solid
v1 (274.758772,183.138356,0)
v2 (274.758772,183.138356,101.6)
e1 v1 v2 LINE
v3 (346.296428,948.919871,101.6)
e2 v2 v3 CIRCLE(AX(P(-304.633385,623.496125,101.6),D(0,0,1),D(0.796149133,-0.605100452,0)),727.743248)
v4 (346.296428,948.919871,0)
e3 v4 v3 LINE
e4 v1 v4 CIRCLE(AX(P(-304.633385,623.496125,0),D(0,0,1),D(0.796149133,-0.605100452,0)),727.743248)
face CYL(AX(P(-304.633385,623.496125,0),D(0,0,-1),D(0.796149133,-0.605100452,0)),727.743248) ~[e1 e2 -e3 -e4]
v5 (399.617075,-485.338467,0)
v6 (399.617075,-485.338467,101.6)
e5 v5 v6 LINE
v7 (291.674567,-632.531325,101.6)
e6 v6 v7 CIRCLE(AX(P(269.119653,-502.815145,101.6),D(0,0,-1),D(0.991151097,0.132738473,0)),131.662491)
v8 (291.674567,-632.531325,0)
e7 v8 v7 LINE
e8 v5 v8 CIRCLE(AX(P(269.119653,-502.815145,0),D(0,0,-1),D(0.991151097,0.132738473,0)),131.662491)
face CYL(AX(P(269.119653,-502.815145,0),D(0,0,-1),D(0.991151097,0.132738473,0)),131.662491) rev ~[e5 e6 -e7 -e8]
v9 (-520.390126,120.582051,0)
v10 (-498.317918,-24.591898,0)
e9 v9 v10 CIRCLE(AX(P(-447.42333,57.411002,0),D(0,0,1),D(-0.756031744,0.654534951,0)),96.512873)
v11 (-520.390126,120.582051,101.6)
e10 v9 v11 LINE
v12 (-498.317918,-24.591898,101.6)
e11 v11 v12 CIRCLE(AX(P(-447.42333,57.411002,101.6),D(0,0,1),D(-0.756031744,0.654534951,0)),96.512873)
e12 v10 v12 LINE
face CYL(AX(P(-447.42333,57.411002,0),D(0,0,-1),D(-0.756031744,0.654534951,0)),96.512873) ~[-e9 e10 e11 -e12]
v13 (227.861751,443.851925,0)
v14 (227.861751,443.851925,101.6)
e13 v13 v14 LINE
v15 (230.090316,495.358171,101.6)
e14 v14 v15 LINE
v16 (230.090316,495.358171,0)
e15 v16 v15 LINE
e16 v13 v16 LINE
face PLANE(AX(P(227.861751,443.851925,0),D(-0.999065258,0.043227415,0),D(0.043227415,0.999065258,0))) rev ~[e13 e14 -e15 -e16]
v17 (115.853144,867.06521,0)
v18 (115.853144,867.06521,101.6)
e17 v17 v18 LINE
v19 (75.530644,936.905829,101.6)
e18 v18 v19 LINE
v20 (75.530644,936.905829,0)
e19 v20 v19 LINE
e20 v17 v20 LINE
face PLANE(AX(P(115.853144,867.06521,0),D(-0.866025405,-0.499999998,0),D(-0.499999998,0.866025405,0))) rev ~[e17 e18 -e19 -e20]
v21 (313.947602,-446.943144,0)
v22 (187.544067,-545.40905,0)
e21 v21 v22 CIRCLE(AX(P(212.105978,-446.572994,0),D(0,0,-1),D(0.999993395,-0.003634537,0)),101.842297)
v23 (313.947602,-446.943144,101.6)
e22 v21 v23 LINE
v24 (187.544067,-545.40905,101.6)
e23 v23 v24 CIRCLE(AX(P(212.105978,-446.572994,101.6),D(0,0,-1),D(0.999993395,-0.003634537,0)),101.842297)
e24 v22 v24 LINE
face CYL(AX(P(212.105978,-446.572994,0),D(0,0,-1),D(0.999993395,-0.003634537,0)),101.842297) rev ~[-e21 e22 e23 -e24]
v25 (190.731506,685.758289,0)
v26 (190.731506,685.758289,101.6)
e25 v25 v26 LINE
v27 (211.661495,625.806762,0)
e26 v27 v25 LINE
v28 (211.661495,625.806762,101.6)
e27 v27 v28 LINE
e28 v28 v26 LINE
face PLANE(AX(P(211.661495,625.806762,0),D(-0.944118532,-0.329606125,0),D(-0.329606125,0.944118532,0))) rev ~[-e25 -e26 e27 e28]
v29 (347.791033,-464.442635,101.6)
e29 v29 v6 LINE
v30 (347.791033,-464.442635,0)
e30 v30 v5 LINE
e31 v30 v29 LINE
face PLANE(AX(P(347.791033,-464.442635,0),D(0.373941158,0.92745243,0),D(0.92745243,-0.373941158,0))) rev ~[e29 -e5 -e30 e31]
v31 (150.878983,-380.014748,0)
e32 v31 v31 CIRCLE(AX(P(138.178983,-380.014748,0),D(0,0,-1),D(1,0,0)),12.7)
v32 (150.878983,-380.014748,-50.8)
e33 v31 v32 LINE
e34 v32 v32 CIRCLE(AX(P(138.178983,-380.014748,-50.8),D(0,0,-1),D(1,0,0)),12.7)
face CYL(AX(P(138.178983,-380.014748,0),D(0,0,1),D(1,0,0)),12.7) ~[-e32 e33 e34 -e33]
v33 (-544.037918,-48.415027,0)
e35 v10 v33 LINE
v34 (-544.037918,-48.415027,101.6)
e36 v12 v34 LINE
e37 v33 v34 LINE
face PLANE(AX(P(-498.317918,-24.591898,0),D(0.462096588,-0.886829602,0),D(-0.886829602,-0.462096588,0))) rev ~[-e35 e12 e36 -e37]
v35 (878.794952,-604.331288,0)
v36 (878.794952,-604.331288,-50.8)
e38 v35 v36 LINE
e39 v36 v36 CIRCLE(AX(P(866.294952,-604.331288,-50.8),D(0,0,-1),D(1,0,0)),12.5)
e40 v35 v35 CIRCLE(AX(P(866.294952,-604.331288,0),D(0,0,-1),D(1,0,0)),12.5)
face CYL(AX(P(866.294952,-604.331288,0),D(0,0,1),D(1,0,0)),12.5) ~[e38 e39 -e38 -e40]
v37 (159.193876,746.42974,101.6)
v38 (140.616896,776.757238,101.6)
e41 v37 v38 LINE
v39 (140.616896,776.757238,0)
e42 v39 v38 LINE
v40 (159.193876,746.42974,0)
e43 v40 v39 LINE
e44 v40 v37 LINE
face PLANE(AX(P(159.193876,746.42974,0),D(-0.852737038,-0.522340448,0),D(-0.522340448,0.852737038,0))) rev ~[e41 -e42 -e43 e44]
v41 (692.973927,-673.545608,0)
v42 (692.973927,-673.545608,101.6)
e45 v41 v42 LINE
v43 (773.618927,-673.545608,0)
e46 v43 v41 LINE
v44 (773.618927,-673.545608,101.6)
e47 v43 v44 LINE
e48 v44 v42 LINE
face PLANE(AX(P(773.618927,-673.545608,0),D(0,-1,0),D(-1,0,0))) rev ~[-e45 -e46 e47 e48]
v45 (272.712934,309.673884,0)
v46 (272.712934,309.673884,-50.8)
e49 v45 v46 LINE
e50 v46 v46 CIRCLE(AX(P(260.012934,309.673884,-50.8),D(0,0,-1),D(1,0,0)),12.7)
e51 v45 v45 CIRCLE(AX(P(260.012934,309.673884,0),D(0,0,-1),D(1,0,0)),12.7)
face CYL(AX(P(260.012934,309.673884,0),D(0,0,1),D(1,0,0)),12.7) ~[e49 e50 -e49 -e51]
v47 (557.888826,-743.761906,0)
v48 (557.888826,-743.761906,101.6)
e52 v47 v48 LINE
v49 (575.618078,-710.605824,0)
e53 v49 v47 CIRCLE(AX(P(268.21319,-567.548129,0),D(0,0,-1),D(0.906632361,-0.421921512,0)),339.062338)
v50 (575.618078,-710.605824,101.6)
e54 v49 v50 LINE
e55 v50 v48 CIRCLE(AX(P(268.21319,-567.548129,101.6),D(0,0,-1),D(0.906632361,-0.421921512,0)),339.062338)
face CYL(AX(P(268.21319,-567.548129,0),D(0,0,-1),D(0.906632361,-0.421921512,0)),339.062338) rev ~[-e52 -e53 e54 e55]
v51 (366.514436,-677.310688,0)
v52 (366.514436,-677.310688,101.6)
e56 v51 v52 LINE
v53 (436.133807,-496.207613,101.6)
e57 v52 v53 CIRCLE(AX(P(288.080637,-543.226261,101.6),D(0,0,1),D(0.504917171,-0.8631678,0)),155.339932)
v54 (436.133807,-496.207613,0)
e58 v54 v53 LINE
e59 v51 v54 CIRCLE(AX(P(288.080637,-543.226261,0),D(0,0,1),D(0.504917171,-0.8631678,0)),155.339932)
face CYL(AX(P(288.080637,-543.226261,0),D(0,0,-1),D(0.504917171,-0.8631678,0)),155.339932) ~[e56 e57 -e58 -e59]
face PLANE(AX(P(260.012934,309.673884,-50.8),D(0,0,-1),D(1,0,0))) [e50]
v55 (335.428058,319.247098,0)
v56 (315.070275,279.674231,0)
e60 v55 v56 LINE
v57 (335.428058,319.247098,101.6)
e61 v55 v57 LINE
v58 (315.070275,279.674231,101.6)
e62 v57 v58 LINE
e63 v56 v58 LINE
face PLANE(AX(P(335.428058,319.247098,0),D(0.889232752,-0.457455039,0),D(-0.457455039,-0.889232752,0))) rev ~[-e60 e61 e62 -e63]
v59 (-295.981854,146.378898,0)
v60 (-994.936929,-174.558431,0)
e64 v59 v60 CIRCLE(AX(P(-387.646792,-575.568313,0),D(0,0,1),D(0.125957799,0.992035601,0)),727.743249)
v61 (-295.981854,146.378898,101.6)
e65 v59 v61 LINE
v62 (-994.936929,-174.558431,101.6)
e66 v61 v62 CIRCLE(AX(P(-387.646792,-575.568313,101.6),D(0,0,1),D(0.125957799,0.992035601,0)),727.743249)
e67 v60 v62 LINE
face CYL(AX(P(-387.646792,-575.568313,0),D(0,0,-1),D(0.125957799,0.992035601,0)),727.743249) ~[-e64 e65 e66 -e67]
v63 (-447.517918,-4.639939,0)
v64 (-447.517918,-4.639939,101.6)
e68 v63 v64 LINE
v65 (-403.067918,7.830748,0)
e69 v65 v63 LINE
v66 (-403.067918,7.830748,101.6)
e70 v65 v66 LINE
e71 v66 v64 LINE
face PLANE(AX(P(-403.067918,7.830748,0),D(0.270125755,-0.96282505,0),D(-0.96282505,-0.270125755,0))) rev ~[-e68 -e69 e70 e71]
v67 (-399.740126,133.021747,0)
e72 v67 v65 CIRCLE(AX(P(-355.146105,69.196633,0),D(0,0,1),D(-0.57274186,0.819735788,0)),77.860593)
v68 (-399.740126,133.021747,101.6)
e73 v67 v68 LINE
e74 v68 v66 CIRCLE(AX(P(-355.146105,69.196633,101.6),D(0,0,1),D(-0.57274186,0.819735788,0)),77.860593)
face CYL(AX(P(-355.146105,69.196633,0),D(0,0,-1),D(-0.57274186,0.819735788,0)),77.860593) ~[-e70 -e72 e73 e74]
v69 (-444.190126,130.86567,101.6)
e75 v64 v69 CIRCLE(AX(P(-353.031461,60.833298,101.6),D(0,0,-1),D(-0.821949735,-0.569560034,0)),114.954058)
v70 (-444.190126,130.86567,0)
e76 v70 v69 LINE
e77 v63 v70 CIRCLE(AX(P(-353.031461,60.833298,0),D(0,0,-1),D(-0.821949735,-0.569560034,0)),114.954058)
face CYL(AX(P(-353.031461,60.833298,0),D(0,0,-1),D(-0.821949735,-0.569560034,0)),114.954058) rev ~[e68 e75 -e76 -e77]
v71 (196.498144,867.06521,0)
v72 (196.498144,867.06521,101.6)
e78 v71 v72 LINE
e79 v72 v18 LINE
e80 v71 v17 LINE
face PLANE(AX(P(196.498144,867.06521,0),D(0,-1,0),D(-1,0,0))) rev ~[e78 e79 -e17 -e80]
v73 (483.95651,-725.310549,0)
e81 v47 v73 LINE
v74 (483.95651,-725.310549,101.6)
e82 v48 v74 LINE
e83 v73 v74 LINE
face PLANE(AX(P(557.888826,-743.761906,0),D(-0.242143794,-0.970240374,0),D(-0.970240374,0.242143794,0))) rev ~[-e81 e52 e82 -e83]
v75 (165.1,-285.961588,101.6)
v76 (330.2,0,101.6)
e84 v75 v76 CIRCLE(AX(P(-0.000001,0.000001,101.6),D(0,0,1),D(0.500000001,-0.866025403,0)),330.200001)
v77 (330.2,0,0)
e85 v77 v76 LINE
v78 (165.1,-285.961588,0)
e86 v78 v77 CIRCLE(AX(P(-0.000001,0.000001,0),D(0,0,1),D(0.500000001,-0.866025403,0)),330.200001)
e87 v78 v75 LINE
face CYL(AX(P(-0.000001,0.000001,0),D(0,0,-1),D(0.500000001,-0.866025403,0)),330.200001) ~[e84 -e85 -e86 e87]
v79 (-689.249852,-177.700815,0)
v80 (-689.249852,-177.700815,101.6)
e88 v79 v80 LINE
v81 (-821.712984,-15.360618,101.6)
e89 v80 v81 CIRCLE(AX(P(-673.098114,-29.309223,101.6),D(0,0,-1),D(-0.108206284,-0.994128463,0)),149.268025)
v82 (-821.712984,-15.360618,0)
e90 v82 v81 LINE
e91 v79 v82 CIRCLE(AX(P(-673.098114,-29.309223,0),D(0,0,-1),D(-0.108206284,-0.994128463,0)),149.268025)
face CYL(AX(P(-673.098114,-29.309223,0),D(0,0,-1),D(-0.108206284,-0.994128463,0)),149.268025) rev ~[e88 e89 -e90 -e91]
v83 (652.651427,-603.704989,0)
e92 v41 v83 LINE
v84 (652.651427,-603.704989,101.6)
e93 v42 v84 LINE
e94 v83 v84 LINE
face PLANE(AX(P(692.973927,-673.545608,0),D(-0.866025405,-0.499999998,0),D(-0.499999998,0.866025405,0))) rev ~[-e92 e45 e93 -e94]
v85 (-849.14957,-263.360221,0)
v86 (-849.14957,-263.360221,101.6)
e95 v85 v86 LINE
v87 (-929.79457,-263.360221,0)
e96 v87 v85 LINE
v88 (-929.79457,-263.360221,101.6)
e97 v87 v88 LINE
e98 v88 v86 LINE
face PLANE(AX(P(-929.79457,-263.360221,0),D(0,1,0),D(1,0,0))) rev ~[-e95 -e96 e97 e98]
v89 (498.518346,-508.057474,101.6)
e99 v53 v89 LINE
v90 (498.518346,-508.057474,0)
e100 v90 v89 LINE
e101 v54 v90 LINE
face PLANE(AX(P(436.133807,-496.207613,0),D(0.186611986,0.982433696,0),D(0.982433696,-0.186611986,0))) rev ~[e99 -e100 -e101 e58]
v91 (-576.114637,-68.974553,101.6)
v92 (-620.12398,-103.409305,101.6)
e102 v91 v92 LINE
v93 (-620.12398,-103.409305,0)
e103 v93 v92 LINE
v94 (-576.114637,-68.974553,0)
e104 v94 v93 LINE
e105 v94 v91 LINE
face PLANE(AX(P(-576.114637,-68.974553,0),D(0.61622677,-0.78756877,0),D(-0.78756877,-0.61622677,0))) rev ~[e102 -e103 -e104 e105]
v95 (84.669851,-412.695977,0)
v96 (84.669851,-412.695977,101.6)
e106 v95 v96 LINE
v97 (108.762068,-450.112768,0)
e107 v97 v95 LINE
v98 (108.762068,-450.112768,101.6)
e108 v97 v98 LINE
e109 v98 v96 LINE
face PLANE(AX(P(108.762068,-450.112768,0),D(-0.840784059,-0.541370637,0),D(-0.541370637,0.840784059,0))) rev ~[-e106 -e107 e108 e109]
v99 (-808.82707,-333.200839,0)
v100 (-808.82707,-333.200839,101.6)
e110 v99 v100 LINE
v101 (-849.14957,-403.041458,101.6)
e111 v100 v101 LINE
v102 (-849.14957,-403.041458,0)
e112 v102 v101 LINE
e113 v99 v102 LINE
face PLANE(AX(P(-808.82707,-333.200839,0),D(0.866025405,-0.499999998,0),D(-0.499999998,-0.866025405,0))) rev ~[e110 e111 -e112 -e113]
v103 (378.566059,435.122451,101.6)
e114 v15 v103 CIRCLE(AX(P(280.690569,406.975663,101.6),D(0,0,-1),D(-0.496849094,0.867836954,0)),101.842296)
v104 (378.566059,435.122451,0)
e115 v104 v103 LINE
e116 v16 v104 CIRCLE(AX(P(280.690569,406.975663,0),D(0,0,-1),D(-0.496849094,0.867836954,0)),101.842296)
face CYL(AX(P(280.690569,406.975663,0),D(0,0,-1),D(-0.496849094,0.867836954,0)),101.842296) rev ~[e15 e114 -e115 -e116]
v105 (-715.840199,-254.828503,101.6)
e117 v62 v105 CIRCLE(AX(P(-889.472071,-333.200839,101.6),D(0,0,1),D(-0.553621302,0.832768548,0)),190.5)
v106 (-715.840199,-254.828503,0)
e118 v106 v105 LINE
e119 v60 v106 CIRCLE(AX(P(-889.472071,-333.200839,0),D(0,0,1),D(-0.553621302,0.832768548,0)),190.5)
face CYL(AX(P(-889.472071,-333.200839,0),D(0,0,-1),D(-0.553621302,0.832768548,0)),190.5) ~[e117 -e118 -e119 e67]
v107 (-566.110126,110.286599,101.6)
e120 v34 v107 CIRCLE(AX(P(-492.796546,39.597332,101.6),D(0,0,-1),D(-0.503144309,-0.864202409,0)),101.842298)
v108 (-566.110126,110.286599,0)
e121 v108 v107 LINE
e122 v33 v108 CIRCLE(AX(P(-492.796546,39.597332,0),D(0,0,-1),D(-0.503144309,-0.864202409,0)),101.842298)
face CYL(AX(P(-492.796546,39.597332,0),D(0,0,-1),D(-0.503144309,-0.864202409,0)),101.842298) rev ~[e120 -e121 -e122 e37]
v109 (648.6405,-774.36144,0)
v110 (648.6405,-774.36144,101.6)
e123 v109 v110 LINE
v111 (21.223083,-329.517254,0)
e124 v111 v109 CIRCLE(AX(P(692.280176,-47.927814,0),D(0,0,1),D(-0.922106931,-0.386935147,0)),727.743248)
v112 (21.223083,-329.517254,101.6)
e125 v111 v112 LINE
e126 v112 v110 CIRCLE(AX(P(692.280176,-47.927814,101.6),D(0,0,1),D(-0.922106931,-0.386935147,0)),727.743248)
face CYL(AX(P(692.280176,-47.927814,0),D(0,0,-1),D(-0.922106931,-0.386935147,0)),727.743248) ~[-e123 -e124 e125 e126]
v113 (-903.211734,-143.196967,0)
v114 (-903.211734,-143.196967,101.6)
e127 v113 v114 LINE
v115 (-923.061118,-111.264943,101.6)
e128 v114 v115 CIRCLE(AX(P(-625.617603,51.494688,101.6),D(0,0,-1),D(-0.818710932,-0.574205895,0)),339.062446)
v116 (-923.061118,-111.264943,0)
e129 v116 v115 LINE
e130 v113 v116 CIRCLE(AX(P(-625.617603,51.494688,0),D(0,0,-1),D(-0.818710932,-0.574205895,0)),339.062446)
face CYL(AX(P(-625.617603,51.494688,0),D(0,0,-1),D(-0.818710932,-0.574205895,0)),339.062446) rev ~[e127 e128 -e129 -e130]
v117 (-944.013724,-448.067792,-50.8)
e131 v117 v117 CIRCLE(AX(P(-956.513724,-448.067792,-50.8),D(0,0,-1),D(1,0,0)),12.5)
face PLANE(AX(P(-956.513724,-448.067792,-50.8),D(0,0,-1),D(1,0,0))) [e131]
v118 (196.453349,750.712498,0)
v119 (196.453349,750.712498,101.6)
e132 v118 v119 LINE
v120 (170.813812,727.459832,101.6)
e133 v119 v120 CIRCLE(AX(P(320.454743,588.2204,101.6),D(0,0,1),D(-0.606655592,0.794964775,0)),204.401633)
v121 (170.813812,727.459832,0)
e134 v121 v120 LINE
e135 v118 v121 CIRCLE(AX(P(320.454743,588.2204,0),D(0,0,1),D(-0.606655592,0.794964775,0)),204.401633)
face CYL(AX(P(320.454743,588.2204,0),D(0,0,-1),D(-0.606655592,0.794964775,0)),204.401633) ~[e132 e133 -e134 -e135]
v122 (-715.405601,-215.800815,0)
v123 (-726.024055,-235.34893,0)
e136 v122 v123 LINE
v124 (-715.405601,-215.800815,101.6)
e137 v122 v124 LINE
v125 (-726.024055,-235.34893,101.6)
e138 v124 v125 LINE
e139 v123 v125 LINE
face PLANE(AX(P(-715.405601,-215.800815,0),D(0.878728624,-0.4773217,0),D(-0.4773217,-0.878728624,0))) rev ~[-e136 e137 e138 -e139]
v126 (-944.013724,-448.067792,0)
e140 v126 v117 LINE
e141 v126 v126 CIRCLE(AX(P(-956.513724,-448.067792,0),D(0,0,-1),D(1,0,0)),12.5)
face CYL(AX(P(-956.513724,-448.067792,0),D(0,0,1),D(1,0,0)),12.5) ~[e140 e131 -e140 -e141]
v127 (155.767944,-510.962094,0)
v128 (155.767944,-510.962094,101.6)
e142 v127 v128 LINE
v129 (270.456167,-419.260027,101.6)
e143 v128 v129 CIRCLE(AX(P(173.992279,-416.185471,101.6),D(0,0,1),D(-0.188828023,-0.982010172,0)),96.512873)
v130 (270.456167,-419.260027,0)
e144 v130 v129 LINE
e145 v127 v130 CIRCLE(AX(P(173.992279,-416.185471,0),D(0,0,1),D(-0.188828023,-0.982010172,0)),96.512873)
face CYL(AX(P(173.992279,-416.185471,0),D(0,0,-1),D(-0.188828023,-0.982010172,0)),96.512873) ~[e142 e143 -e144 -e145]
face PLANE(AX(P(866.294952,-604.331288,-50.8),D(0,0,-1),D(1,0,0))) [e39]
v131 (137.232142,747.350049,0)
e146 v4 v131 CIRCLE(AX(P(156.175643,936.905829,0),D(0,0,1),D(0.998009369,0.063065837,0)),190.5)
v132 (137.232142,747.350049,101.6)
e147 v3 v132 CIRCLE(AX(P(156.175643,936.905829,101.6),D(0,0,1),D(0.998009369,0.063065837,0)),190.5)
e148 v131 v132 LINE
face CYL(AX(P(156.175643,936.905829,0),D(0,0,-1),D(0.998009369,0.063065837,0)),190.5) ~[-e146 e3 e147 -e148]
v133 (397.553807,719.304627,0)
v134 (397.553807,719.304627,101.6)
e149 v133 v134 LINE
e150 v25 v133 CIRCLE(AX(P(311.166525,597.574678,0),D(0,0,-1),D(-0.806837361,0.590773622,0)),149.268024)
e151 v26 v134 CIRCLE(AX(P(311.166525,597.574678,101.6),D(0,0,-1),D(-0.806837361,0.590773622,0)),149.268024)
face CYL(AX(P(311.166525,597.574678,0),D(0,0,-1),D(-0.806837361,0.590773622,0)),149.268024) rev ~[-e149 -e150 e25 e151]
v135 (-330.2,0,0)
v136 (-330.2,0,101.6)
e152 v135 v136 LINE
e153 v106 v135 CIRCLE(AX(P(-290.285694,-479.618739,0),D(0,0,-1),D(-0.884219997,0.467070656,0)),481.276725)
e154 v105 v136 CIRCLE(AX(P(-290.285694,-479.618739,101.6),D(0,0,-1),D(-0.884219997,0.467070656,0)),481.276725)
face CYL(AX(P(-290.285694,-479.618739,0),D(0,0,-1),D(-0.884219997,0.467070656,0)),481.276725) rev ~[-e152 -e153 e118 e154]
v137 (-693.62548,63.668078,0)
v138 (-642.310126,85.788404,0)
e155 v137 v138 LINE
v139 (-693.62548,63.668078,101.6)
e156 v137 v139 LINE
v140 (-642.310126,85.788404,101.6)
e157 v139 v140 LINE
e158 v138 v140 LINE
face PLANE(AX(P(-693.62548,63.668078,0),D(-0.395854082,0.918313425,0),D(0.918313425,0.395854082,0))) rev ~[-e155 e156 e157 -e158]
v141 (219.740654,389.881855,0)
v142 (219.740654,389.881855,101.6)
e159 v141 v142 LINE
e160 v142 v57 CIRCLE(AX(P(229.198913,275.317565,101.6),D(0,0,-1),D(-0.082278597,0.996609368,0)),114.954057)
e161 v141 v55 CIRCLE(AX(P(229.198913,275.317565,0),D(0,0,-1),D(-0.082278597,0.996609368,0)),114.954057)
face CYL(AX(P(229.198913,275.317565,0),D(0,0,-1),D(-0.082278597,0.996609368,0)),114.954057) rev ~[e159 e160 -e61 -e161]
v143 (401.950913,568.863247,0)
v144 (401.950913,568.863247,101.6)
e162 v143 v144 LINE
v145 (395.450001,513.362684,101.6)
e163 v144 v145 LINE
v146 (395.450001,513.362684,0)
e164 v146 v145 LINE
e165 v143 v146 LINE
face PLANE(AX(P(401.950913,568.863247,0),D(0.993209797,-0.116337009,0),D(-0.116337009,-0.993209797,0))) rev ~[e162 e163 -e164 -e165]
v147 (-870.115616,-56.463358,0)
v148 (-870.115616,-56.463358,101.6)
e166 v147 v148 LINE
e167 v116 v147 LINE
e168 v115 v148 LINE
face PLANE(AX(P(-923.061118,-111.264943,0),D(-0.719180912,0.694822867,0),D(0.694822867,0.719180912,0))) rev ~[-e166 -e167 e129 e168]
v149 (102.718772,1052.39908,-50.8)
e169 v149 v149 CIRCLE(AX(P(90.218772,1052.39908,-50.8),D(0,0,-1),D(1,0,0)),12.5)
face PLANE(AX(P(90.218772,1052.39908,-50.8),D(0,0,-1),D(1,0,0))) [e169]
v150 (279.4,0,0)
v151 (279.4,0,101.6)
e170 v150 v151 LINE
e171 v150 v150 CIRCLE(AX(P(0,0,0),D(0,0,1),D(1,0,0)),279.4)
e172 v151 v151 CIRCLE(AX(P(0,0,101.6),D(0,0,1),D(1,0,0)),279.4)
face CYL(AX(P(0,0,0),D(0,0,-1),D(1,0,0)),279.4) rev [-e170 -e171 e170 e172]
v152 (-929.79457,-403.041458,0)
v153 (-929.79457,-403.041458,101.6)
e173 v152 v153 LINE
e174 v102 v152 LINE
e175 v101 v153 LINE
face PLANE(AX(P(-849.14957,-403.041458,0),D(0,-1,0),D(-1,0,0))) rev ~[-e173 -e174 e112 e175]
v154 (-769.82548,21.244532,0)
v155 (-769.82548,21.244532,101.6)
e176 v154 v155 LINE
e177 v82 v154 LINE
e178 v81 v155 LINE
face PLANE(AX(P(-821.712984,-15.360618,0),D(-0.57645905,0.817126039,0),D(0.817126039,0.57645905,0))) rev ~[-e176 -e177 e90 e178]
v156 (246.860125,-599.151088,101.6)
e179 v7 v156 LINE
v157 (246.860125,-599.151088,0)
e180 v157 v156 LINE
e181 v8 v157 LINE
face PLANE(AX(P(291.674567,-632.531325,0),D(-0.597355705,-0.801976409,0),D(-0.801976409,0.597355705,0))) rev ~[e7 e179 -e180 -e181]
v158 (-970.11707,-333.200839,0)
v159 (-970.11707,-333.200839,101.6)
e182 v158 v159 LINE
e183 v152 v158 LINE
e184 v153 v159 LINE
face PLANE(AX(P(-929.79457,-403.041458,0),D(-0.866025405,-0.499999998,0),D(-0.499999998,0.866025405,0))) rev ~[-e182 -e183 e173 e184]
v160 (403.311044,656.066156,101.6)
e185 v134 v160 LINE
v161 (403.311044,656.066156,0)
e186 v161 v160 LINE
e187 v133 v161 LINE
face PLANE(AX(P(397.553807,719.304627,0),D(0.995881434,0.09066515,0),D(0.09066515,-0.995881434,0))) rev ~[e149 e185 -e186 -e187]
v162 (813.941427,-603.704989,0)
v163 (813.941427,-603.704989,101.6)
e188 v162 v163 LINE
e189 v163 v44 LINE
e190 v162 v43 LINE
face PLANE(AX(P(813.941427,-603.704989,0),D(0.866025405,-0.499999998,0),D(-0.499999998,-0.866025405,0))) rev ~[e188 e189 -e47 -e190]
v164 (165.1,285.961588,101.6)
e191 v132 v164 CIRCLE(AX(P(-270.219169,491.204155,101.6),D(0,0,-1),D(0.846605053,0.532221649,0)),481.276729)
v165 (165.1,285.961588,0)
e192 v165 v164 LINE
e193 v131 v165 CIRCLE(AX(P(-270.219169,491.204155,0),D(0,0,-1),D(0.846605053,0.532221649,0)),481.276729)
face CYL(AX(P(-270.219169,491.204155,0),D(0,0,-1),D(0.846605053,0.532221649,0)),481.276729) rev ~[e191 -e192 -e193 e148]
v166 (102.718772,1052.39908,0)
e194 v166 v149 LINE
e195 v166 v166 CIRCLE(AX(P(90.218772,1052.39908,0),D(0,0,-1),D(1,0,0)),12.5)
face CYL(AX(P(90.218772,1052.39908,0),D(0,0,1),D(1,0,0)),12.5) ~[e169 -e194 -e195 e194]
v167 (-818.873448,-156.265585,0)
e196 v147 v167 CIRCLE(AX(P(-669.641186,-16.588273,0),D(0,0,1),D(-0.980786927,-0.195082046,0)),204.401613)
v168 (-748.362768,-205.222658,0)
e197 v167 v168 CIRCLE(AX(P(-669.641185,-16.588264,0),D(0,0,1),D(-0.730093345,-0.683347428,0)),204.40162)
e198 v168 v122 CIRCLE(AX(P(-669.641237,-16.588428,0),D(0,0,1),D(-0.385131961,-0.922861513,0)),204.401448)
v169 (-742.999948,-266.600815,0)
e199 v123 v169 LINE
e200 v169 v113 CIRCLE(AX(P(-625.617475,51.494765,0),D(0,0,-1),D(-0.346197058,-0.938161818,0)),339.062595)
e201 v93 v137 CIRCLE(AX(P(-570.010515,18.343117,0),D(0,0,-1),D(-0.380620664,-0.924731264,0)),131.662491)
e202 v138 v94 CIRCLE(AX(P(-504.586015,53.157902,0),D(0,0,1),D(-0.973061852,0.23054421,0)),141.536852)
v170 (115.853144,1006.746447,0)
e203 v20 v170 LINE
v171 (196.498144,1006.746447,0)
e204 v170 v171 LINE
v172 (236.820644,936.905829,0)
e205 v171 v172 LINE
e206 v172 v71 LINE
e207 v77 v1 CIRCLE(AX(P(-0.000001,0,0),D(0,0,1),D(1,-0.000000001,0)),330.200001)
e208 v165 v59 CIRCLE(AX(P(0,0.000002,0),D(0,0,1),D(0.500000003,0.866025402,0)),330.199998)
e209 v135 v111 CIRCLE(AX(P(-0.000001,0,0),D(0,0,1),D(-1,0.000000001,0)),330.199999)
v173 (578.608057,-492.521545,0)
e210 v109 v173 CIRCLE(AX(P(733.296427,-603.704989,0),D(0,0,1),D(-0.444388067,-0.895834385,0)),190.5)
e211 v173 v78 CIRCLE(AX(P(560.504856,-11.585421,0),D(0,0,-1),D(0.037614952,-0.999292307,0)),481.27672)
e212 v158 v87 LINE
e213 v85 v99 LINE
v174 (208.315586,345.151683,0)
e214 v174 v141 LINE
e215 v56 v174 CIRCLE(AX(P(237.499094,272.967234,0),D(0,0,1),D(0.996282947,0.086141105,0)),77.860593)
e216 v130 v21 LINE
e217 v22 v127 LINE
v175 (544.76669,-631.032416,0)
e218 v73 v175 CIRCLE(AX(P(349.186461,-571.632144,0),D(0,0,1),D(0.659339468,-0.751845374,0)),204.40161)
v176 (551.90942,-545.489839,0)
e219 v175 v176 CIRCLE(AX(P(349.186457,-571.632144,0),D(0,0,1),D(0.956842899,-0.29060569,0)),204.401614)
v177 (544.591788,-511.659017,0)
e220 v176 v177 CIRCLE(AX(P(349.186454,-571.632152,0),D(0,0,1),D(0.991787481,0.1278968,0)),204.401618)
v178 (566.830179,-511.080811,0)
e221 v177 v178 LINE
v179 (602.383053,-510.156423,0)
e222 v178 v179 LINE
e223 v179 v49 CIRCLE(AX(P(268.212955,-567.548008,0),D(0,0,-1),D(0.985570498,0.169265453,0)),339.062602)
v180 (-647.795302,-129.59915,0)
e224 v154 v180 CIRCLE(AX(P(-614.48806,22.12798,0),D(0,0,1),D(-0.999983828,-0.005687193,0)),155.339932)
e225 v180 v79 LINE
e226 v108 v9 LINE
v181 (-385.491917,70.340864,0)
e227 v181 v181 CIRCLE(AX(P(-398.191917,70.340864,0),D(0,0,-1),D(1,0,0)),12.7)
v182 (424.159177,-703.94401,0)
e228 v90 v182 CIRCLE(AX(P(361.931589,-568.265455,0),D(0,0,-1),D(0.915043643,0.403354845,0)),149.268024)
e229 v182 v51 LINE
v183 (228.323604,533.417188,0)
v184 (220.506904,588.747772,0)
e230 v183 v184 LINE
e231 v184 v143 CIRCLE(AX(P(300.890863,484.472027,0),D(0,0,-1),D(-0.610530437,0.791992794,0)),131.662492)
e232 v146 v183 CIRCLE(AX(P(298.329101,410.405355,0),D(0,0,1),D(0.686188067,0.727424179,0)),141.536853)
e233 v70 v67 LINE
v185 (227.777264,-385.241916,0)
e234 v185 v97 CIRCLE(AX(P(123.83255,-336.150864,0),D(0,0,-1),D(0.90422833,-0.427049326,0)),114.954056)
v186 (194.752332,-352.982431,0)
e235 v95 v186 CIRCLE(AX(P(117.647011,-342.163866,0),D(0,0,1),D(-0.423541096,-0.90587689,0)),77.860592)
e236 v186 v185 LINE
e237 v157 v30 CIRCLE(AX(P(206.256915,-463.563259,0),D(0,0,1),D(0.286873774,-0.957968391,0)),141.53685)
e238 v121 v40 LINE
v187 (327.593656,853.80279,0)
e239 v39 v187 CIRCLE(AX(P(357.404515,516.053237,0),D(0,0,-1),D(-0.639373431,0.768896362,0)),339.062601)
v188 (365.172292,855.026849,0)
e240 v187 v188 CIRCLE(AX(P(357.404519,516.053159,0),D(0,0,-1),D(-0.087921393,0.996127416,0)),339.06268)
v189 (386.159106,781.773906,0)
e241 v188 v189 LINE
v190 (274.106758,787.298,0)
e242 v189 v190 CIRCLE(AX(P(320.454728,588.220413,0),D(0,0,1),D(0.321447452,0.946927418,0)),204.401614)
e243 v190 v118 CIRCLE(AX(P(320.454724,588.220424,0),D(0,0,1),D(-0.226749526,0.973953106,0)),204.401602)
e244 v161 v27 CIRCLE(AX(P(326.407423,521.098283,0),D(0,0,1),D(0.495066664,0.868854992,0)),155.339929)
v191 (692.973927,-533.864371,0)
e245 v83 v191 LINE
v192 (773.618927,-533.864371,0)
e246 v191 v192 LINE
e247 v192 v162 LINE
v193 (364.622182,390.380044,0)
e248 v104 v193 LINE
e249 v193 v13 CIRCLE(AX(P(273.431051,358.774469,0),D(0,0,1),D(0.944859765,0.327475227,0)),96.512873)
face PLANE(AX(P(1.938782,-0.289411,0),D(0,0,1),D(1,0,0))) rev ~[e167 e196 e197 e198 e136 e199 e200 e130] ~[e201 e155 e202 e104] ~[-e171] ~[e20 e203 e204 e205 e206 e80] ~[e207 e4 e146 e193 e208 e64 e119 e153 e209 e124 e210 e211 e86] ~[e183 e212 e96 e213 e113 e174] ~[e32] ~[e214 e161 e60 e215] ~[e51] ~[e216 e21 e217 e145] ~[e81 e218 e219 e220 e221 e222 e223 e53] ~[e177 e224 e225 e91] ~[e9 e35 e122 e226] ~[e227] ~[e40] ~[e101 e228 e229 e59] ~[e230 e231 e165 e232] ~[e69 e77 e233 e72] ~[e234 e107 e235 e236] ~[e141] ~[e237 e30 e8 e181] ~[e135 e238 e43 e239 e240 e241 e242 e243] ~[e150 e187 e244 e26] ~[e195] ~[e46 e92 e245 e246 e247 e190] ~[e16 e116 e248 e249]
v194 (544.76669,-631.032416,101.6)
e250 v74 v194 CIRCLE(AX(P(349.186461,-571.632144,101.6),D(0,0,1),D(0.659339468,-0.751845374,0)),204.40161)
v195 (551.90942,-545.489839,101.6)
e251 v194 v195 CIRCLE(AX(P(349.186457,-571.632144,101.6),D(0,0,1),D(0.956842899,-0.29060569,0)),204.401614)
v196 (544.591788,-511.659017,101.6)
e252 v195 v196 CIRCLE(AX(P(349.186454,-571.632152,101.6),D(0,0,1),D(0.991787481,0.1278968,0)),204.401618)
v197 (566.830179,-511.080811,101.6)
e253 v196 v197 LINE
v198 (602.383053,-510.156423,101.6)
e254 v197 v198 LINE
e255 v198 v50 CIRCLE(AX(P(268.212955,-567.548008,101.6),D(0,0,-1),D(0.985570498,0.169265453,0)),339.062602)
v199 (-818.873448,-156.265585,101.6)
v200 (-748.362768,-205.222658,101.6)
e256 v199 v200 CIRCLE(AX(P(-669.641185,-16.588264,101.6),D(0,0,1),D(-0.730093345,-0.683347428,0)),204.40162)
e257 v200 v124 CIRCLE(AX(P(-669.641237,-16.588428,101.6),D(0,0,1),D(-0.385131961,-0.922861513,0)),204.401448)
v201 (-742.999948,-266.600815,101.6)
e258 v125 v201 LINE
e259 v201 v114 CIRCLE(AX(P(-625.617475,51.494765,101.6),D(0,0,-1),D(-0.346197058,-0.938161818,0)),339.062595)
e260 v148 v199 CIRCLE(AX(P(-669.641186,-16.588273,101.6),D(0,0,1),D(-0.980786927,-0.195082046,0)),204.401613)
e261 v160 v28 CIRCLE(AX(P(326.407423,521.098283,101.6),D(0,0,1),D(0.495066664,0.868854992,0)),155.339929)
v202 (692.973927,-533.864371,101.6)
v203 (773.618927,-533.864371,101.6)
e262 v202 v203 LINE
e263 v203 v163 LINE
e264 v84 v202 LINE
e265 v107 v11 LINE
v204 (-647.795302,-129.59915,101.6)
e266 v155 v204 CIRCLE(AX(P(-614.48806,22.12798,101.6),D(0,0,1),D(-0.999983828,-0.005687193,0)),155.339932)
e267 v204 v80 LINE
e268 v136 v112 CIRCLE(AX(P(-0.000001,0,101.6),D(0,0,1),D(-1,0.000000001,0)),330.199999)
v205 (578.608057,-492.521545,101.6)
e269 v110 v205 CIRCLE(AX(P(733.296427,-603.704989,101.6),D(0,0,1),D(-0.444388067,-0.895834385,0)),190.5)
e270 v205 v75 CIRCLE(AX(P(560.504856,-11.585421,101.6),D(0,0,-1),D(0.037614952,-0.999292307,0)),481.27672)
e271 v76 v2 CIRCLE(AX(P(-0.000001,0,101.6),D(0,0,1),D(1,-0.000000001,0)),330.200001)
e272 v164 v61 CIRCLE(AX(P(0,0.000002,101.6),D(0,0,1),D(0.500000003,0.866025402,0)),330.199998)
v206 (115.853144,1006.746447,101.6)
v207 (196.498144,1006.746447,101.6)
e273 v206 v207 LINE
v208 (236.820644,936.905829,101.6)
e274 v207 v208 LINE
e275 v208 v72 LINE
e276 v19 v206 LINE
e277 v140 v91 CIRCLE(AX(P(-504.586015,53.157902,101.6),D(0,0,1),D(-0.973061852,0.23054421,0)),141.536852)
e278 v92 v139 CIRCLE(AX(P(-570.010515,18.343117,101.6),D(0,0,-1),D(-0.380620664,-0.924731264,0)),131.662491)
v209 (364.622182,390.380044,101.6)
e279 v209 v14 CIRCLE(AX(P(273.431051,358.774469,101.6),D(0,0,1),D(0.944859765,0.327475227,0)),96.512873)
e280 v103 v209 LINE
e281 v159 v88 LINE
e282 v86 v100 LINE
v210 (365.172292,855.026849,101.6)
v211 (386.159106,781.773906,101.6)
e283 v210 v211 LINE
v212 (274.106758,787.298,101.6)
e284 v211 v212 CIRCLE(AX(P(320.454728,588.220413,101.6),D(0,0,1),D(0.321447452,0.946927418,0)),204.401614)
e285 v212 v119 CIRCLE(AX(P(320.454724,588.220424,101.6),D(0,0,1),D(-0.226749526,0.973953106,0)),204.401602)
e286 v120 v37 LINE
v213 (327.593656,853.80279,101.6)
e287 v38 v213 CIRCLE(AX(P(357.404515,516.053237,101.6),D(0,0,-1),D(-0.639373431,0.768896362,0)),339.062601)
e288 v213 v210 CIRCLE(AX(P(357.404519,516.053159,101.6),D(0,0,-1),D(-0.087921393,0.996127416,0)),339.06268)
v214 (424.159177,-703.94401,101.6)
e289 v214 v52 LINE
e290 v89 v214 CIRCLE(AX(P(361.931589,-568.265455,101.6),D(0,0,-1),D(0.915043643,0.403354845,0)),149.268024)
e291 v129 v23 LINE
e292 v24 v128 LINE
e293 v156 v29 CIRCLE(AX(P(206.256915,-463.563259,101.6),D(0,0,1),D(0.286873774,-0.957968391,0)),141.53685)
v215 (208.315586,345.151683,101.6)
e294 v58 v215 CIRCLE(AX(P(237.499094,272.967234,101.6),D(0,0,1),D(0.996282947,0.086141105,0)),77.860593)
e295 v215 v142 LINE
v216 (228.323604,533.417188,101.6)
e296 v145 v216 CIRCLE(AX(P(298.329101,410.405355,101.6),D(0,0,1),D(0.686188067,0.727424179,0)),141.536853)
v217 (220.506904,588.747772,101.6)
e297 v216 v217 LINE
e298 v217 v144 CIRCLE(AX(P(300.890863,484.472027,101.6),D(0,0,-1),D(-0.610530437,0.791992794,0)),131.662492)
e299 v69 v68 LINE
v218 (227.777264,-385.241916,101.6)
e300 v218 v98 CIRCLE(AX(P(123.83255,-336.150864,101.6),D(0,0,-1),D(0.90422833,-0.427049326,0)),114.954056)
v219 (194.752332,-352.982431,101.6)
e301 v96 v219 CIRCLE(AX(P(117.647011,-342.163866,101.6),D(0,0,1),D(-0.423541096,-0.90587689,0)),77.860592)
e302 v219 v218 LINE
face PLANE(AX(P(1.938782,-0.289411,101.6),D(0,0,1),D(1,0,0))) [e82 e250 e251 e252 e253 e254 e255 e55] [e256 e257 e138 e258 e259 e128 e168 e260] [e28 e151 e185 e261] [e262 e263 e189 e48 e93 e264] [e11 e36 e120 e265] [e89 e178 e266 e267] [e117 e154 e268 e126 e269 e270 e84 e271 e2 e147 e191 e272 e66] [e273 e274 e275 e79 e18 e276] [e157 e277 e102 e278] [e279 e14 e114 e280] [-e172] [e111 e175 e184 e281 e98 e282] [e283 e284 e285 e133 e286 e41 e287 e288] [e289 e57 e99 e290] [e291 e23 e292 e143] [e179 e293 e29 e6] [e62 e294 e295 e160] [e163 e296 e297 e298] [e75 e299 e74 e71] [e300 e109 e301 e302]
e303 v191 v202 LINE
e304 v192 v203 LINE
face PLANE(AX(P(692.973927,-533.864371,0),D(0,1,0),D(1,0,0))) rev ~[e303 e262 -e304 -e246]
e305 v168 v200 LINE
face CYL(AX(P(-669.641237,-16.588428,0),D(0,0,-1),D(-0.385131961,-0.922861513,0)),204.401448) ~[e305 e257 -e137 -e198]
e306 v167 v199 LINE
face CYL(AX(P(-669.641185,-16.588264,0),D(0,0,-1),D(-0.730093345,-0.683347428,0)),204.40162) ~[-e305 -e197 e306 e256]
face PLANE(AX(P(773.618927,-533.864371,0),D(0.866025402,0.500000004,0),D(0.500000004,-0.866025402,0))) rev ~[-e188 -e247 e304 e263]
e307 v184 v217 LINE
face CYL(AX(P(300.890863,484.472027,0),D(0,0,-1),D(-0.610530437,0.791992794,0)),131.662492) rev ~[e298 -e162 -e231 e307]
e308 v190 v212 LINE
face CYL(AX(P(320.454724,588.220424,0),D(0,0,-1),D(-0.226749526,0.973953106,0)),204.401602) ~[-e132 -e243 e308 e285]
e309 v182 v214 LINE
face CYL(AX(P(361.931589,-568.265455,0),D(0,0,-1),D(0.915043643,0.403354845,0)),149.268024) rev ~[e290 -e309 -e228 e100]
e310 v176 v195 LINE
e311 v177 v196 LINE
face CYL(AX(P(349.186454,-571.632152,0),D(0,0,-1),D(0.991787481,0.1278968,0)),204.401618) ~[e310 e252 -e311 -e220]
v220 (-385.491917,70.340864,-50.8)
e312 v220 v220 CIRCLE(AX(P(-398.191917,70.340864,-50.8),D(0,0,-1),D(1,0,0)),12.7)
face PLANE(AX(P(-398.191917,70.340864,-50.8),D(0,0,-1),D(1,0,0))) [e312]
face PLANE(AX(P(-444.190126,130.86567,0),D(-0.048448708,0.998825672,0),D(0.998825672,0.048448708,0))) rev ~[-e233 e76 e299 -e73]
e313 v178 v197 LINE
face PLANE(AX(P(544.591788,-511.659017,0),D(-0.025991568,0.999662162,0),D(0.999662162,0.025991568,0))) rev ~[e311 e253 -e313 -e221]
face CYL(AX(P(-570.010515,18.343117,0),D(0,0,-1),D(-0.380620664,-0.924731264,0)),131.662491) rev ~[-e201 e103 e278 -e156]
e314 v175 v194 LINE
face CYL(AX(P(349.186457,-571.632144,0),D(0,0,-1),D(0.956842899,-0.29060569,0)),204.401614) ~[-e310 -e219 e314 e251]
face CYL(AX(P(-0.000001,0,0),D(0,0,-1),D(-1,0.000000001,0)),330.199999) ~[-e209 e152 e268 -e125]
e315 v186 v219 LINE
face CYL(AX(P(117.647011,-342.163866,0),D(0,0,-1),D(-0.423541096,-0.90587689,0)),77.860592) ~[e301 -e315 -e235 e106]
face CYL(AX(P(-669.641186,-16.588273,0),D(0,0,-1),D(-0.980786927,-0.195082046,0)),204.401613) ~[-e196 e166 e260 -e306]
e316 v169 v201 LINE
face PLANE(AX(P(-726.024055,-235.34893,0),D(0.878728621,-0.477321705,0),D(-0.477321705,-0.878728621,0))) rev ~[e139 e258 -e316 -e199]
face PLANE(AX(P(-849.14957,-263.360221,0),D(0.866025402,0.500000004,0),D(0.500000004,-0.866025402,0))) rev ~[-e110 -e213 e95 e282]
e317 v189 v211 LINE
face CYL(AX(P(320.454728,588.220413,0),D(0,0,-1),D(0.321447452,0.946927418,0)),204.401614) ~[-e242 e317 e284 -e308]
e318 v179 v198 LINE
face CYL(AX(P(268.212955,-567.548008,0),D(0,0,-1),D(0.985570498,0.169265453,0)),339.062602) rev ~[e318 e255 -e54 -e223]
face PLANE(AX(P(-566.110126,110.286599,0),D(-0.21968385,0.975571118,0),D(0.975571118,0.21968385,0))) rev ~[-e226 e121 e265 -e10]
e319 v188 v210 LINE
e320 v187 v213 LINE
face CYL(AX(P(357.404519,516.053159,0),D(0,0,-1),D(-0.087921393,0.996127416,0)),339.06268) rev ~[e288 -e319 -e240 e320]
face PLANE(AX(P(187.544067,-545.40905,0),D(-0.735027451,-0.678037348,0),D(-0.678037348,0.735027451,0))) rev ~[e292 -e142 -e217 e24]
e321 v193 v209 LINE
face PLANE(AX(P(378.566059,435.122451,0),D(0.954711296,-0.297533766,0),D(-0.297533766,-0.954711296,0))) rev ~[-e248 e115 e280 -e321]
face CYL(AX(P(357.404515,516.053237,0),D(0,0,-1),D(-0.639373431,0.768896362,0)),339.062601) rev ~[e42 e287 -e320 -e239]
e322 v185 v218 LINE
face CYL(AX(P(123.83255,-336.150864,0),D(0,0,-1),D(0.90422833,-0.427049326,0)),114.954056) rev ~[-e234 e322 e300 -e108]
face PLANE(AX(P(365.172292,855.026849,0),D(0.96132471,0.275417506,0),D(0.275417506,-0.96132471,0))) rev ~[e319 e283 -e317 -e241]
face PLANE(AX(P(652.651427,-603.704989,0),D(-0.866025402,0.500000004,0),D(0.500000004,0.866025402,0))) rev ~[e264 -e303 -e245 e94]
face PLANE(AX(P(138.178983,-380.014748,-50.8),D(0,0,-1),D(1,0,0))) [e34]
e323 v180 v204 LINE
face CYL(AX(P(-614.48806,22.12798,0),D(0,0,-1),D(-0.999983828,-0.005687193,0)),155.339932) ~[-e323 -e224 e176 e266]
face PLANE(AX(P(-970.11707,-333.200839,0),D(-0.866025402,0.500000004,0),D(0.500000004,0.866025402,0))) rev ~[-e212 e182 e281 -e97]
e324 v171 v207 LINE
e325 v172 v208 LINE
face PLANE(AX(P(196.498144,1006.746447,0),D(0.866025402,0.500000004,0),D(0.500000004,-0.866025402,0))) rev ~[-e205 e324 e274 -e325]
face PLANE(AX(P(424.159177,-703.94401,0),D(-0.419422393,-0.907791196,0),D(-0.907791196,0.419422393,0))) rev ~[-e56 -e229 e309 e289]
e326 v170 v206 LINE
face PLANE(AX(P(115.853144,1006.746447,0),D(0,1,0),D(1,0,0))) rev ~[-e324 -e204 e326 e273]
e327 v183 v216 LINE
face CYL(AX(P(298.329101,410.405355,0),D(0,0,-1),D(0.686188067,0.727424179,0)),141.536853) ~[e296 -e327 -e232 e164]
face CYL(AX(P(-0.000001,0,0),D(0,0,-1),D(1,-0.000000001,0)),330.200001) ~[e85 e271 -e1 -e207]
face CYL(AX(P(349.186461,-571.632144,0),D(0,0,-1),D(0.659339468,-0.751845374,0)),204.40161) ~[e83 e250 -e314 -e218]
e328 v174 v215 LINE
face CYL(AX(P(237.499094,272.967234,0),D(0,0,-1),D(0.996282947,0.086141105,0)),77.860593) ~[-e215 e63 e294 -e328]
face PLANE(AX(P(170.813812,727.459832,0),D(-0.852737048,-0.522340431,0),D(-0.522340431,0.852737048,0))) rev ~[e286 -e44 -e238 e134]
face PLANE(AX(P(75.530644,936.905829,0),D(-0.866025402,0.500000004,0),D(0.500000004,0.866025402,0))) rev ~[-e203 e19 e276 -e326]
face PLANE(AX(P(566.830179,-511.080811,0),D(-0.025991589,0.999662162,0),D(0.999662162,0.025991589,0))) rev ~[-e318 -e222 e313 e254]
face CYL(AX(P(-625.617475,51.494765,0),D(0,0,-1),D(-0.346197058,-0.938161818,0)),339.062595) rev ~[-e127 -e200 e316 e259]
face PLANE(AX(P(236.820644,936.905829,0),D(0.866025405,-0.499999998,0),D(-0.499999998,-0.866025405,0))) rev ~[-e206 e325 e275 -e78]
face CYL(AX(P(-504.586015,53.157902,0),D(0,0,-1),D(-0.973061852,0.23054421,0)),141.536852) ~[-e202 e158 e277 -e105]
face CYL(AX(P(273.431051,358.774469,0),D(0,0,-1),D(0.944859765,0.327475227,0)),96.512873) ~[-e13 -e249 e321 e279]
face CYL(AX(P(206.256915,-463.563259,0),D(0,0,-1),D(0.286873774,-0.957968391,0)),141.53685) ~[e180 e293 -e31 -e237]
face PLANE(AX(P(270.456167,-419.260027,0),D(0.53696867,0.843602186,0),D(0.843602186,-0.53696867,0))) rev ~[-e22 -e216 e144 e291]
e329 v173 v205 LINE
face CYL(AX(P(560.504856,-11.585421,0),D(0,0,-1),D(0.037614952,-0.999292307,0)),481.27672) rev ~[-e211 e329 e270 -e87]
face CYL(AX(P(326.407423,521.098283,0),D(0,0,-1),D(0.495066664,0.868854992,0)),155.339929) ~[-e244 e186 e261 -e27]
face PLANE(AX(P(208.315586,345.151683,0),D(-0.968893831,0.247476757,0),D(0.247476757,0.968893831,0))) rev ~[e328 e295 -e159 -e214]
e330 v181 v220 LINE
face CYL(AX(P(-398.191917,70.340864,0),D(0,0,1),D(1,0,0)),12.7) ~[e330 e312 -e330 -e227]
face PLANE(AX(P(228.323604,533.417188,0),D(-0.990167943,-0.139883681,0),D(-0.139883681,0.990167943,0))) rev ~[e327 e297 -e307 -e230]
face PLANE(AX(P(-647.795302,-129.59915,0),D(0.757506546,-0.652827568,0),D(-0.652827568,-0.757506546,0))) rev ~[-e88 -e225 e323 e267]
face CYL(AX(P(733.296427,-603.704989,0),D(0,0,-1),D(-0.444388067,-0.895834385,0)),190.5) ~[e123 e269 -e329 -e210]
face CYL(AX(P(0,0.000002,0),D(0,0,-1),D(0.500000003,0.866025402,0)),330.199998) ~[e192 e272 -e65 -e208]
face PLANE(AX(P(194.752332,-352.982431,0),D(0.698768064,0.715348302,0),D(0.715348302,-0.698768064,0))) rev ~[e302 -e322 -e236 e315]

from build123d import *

# Parameters (mm, degrees)
F0_R     = 279.4
F1_DEPTH = 101.6
F2_R     = 12.7
F2_R_2   = 12.5
F3_DEPTH = 50.8


with BuildPart() as f1:
    # F0 (on Top) → F1 (new body)
    with BuildSketch(Plane.XY):
        with BuildLine():
            ThreePointArc((165.1, -285.961588), (285.961588, -165.1), (330.2, 0))
            ThreePointArc((330.2, 0), (316.035905, 95.673125), (274.758772, 183.138356))
            ThreePointArc((274.758772, 183.138356), (225.85856, 240.873309), (165.1, 285.961588))
            ThreePointArc((165.1, 285.961588), (-95.673125, 316.035905), (-295.981854, 146.378898))
            ThreePointArc((-295.981854, 146.378898), (-321.531685, 75.162596), (-330.2, 0))
            ThreePointArc((-330.2, 0), (-225.85856, -240.873309), (21.223083, -329.517254))
            ThreePointArc((21.223083, -329.517254), (95.673125, -316.035905), (165.1, -285.961588))
        make_face()
        Circle(F0_R, mode=Mode.SUBTRACT)
        with BuildLine():
            ThreePointArc((165.1, 285.961588), (225.85856, 240.873309), (274.758772, 183.138356))
            ThreePointArc((274.758772, 183.138356), (419.955029, 555.806639), (346.296428, 948.919871))
            ThreePointArc((346.296428, 948.919871), (343.096456, 900.151785), (327.593656, 853.80279))
            ThreePointArc((327.593656, 853.80279), (346.365994, 854.936106), (365.172292, 855.026849))
            Line((365.172292, 855.026849), (386.159106, 781.773906))
            ThreePointArc((386.159106, 781.773906), (330.519346, 792.374089), (274.106758, 787.298))
            ThreePointArc((274.106758, 787.298), (233.337853, 773.127606), (196.453349, 750.712498))
            ThreePointArc((196.453349, 750.712498), (183.140497, 739.629863), (170.813812, 727.459832))
            Line((170.813812, 727.459832), (159.193876, 746.42974))
            ThreePointArc((159.193876, 746.42974), (148.199724, 746.572871), (137.232142, 747.350049))
            ThreePointArc((137.232142, 747.350049), (210.182068, 520.220384), (165.1, 285.961588))
        make_face()
        with BuildLine():
            ThreePointArc((219.740654, 389.881855), (289.102738, 373.429577), (335.428058, 319.247098))
            Line((335.428058, 319.247098), (315.070275, 279.674231))
            ThreePointArc((315.070275, 279.674231), (278.207397, 339.338206), (208.315586, 345.151683))
            Line((208.315586, 345.151683), (219.740654, 389.881855))
        make_face(mode=Mode.SUBTRACT)
        with BuildLine():
            ThreePointArc((230.090316, 495.358171), (318.97663, 501.347432), (378.566059, 435.122451))
            Line((378.566059, 435.122451), (364.622182, 390.380044))
            ThreePointArc((364.622182, 390.380044), (308.575729, 448.660988), (227.861751, 443.851925))
            Line((227.861751, 443.851925), (230.090316, 495.358171))
        make_face(mode=Mode.SUBTRACT)
        with BuildLine():
            ThreePointArc((220.506904, 588.747772), (315.233937, 615.350933), (401.950913, 568.863247))
            Line((401.950913, 568.863247), (395.450001, 513.362684))
            ThreePointArc((395.450001, 513.362684), (315.191991, 550.934084), (228.323604, 533.417188))
            Line((228.323604, 533.417188), (220.506904, 588.747772))
        make_face(mode=Mode.SUBTRACT)
        with BuildLine():
            ThreePointArc((190.731506, 685.758289), (287.267753, 744.917108), (397.553807, 719.304627))
            Line((397.553807, 719.304627), (403.311044, 656.066156))
            ThreePointArc((403.311044, 656.066156), (302.181037, 674.537443), (211.661495, 625.806762))
            Line((211.661495, 625.806762), (190.731506, 685.758289))
        make_face(mode=Mode.SUBTRACT)
        with BuildLine():
            ThreePointArc((578.608057, -492.521545), (345.433034, -442.133203), (165.1, -285.961588))
            ThreePointArc((165.1, -285.961588), (95.673125, -316.035905), (21.223083, -329.517254))
            ThreePointArc((21.223083, -329.517254), (271.365154, -641.595043), (648.6405, -774.36144))
            ThreePointArc((648.6405, -774.36144), (608.006084, -747.206139), (575.618078, -710.605824))
            ThreePointArc((575.618078, -710.605824), (567.21339, -727.429803), (557.888826, -743.761906))
            Line((557.888826, -743.761906), (483.95651, -725.310549))
            ThreePointArc((483.95651, -725.310549), (520.956418, -682.425195), (544.76669, -631.032416))
            ThreePointArc((544.76669, -631.032416), (552.879221, -588.640311), (551.90942, -545.489839))
            ThreePointArc((551.90942, -545.489839), (548.968002, -528.419254), (544.591788, -511.659017))
            Line((544.591788, -511.659017), (566.830179, -511.080811))
            ThreePointArc((566.830179, -511.080811), (572.45121, -501.631161), (578.608057, -492.521545))
        make_face()
        with BuildLine():
            ThreePointArc((227.777264, -385.241916), (178.848131, -437.085104), (108.762068, -450.112768))
            Line((108.762068, -450.112768), (84.669851, -412.695977))
            ThreePointArc((84.669851, -412.695977), (154.771808, -410.603776), (194.752332, -352.982431))
            Line((194.752332, -352.982431), (227.777264, -385.241916))
        make_face(mode=Mode.SUBTRACT)
        with BuildLine():
            ThreePointArc((313.947602, -446.943144), (274.691297, -526.915581), (187.544067, -545.40905))
            Line((187.544067, -545.40905), (155.767944, -510.962094))
            ThreePointArc((155.767944, -510.962094), (234.263949, -491.564914), (270.456167, -419.260027))
            Line((270.456167, -419.260027), (313.947602, -446.943144))
        make_face(mode=Mode.SUBTRACT)
        with BuildLine():
            ThreePointArc((399.617075, -485.338467), (375.292572, -580.676064), (291.674567, -632.531325))
            Line((291.674567, -632.531325), (246.860125, -599.151088))
            ThreePointArc((246.860125, -599.151088), (319.526917, -548.431313), (347.791033, -464.442635))
            Line((347.791033, -464.442635), (399.617075, -485.338467))
        make_face(mode=Mode.SUBTRACT)
        with BuildLine():
            ThreePointArc((498.518346, -508.057474), (501.483263, -621.239726), (424.159177, -703.94401))
            Line((424.159177, -703.94401), (366.514436, -677.310688))
            ThreePointArc((366.514436, -677.310688), (433.076043, -598.965176), (436.133807, -496.207613))
            Line((436.133807, -496.207613), (498.518346, -508.057474))
        make_face(mode=Mode.SUBTRACT)
        with BuildLine():
            ThreePointArc((327.593656, 853.80279), (343.096456, 900.151785), (346.296428, 948.919871))
            ThreePointArc((346.296428, 948.919871), (23.952295, 1074.045306), (137.232142, 747.350049))
            ThreePointArc((137.232142, 747.350049), (148.199724, 746.572871), (159.193876, 746.42974))
            Line((159.193876, 746.42974), (140.616896, 776.757238))
            ThreePointArc((140.616896, 776.757238), (228.227479, 829.544451), (327.593656, 853.80279))
        make_face()
        Polygon((75.530644, 936.905829), (115.853144, 1006.746447), (196.498144, 1006.746447), (236.820644, 936.905829), (196.498144, 867.06521), (115.853144, 867.06521), align=None, mode=Mode.SUBTRACT)
        with BuildLine():
            ThreePointArc((648.6405, -774.36144), (918.174372, -557.765949), (578.608057, -492.521545))
            ThreePointArc((578.608057, -492.521545), (572.45121, -501.631161), (566.830179, -511.080811))
            Line((566.830179, -511.080811), (602.383053, -510.156423))
            ThreePointArc((602.383053, -510.156423), (604.292829, -612.42302), (575.618078, -710.605824))
            ThreePointArc((575.618078, -710.605824), (608.006084, -747.206139), (648.6405, -774.36144))
        make_face()
        Polygon((773.618927, -533.864371), (813.941427, -603.704989), (773.618927, -673.545608), (692.973927, -673.545608), (652.651427, -603.704989), (692.973927, -533.864371), align=None, mode=Mode.SUBTRACT)
        with BuildLine():
            ThreePointArc((-330.2, 0), (-321.531685, 75.162596), (-295.981854, 146.378898))
            ThreePointArc((-295.981854, 146.378898), (-691.320184, 85.788404), (-994.936929, -174.558431))
            ThreePointArc((-994.936929, -174.558431), (-951.102541, -152.945645), (-903.211734, -143.196967))
            ThreePointArc((-903.211734, -143.196967), (-913.579384, -127.506303), (-923.061118, -111.264943))
            Line((-923.061118, -111.264943), (-870.115616, -56.463358))
            ThreePointArc((-870.115616, -56.463358), (-851.475764, -109.948895), (-818.873448, -156.265585))
            ThreePointArc((-818.873448, -156.265585), (-786.217073, -184.487295), (-748.362768, -205.222658))
            ThreePointArc((-748.362768, -205.222658), (-732.108499, -211.210609), (-715.405601, -215.800815))
            Line((-715.405601, -215.800815), (-726.024055, -235.34893))
            ThreePointArc((-726.024055, -235.34893), (-720.650934, -244.94171), (-715.840199, -254.828503))
            ThreePointArc((-715.840199, -254.828503), (-555.615102, -78.087181), (-330.2, 0))
        make_face()
        with BuildLine():
            ThreePointArc((-689.249852, -177.700815), (-788.751016, -123.677382), (-821.712984, -15.360618))
            Line((-821.712984, -15.360618), (-769.82548, 21.244532))
            ThreePointArc((-769.82548, 21.244532), (-735.25708, -75.572267), (-647.795302, -129.59915))
            Line((-647.795302, -129.59915), (-689.249852, -177.700815))
        make_face(mode=Mode.SUBTRACT)
        with BuildLine():
            Line((-576.114637, -68.974553), (-620.12398, -103.409305))
            ThreePointArc((-620.12398, -103.409305), (-690.526509, -34.674869), (-693.62548, 63.668078))
            Line((-693.62548, 63.668078), (-642.310126, 85.788404))
            ThreePointArc((-642.310126, 85.788404), (-634.718908, -2.502771), (-576.114637, -68.974553))
        make_face(mode=Mode.SUBTRACT)
        with BuildLine():
            Line((-498.317918, -24.591898), (-544.037918, -48.415027))
            ThreePointArc((-544.037918, -48.415027), (-593.667927, 25.568149), (-566.110126, 110.286599))
            Line((-566.110126, 110.286599), (-520.390126, 120.582051))
            ThreePointArc((-520.390126, 120.582051), (-542.839678, 42.903926), (-498.317918, -24.591898))
        make_face(mode=Mode.SUBTRACT)
        with BuildLine():
            ThreePointArc((-447.517918, -4.639939), (-467.950869, 63.655527), (-444.190126, 130.86567))
            Line((-444.190126, 130.86567), (-399.740126, 133.021747))
            ThreePointArc((-399.740126, 133.021747), (-432.979205, 71.26557), (-403.067918, 7.830748))
            Line((-403.067918, 7.830748), (-447.517918, -4.639939))
        make_face(mode=Mode.SUBTRACT)
        with BuildLine():
            ThreePointArc((-903.211734, -143.196967), (-951.102541, -152.945645), (-994.936929, -174.558431))
            ThreePointArc((-994.936929, -174.558431), (-942.126667, -516.279357), (-715.840199, -254.828503))
            ThreePointArc((-715.840199, -254.828503), (-720.650934, -244.94171), (-726.024055, -235.34893))
            Line((-726.024055, -235.34893), (-742.999948, -266.600815))
            ThreePointArc((-742.999948, -266.600815), (-832.520308, -217.121431), (-903.211734, -143.196967))
        make_face()
        Polygon((-849.14957, -263.360221), (-808.82707, -333.200839), (-849.14957, -403.041458), (-929.79457, -403.041458), (-970.11707, -333.200839), (-929.79457, -263.360221), align=None, mode=Mode.SUBTRACT)
    extrude(amount=F1_DEPTH)

    # F2 (on face) → F3 (join)
    with BuildSketch(Plane(origin=(0, 0, 0), x_dir=(1, 0, 0), z_dir=(0, 0, -1))):
        with Locations((138.178983, 380.014748)):
            Circle(F2_R)
        with Locations((866.294952, 604.331288)):
            Circle(F2_R_2)
        with Locations((-956.513724, 448.067792)):
            Circle(F2_R_2)
        with Locations((90.218772, -1052.39908)):
            Circle(F2_R_2)
        with Locations((-398.191917, -70.340864)):
            Circle(F2_R)
        with Locations((260.012934, -309.673884)):
            Circle(F2_R)
    extrude(amount=F3_DEPTH)


solid = f1.part
